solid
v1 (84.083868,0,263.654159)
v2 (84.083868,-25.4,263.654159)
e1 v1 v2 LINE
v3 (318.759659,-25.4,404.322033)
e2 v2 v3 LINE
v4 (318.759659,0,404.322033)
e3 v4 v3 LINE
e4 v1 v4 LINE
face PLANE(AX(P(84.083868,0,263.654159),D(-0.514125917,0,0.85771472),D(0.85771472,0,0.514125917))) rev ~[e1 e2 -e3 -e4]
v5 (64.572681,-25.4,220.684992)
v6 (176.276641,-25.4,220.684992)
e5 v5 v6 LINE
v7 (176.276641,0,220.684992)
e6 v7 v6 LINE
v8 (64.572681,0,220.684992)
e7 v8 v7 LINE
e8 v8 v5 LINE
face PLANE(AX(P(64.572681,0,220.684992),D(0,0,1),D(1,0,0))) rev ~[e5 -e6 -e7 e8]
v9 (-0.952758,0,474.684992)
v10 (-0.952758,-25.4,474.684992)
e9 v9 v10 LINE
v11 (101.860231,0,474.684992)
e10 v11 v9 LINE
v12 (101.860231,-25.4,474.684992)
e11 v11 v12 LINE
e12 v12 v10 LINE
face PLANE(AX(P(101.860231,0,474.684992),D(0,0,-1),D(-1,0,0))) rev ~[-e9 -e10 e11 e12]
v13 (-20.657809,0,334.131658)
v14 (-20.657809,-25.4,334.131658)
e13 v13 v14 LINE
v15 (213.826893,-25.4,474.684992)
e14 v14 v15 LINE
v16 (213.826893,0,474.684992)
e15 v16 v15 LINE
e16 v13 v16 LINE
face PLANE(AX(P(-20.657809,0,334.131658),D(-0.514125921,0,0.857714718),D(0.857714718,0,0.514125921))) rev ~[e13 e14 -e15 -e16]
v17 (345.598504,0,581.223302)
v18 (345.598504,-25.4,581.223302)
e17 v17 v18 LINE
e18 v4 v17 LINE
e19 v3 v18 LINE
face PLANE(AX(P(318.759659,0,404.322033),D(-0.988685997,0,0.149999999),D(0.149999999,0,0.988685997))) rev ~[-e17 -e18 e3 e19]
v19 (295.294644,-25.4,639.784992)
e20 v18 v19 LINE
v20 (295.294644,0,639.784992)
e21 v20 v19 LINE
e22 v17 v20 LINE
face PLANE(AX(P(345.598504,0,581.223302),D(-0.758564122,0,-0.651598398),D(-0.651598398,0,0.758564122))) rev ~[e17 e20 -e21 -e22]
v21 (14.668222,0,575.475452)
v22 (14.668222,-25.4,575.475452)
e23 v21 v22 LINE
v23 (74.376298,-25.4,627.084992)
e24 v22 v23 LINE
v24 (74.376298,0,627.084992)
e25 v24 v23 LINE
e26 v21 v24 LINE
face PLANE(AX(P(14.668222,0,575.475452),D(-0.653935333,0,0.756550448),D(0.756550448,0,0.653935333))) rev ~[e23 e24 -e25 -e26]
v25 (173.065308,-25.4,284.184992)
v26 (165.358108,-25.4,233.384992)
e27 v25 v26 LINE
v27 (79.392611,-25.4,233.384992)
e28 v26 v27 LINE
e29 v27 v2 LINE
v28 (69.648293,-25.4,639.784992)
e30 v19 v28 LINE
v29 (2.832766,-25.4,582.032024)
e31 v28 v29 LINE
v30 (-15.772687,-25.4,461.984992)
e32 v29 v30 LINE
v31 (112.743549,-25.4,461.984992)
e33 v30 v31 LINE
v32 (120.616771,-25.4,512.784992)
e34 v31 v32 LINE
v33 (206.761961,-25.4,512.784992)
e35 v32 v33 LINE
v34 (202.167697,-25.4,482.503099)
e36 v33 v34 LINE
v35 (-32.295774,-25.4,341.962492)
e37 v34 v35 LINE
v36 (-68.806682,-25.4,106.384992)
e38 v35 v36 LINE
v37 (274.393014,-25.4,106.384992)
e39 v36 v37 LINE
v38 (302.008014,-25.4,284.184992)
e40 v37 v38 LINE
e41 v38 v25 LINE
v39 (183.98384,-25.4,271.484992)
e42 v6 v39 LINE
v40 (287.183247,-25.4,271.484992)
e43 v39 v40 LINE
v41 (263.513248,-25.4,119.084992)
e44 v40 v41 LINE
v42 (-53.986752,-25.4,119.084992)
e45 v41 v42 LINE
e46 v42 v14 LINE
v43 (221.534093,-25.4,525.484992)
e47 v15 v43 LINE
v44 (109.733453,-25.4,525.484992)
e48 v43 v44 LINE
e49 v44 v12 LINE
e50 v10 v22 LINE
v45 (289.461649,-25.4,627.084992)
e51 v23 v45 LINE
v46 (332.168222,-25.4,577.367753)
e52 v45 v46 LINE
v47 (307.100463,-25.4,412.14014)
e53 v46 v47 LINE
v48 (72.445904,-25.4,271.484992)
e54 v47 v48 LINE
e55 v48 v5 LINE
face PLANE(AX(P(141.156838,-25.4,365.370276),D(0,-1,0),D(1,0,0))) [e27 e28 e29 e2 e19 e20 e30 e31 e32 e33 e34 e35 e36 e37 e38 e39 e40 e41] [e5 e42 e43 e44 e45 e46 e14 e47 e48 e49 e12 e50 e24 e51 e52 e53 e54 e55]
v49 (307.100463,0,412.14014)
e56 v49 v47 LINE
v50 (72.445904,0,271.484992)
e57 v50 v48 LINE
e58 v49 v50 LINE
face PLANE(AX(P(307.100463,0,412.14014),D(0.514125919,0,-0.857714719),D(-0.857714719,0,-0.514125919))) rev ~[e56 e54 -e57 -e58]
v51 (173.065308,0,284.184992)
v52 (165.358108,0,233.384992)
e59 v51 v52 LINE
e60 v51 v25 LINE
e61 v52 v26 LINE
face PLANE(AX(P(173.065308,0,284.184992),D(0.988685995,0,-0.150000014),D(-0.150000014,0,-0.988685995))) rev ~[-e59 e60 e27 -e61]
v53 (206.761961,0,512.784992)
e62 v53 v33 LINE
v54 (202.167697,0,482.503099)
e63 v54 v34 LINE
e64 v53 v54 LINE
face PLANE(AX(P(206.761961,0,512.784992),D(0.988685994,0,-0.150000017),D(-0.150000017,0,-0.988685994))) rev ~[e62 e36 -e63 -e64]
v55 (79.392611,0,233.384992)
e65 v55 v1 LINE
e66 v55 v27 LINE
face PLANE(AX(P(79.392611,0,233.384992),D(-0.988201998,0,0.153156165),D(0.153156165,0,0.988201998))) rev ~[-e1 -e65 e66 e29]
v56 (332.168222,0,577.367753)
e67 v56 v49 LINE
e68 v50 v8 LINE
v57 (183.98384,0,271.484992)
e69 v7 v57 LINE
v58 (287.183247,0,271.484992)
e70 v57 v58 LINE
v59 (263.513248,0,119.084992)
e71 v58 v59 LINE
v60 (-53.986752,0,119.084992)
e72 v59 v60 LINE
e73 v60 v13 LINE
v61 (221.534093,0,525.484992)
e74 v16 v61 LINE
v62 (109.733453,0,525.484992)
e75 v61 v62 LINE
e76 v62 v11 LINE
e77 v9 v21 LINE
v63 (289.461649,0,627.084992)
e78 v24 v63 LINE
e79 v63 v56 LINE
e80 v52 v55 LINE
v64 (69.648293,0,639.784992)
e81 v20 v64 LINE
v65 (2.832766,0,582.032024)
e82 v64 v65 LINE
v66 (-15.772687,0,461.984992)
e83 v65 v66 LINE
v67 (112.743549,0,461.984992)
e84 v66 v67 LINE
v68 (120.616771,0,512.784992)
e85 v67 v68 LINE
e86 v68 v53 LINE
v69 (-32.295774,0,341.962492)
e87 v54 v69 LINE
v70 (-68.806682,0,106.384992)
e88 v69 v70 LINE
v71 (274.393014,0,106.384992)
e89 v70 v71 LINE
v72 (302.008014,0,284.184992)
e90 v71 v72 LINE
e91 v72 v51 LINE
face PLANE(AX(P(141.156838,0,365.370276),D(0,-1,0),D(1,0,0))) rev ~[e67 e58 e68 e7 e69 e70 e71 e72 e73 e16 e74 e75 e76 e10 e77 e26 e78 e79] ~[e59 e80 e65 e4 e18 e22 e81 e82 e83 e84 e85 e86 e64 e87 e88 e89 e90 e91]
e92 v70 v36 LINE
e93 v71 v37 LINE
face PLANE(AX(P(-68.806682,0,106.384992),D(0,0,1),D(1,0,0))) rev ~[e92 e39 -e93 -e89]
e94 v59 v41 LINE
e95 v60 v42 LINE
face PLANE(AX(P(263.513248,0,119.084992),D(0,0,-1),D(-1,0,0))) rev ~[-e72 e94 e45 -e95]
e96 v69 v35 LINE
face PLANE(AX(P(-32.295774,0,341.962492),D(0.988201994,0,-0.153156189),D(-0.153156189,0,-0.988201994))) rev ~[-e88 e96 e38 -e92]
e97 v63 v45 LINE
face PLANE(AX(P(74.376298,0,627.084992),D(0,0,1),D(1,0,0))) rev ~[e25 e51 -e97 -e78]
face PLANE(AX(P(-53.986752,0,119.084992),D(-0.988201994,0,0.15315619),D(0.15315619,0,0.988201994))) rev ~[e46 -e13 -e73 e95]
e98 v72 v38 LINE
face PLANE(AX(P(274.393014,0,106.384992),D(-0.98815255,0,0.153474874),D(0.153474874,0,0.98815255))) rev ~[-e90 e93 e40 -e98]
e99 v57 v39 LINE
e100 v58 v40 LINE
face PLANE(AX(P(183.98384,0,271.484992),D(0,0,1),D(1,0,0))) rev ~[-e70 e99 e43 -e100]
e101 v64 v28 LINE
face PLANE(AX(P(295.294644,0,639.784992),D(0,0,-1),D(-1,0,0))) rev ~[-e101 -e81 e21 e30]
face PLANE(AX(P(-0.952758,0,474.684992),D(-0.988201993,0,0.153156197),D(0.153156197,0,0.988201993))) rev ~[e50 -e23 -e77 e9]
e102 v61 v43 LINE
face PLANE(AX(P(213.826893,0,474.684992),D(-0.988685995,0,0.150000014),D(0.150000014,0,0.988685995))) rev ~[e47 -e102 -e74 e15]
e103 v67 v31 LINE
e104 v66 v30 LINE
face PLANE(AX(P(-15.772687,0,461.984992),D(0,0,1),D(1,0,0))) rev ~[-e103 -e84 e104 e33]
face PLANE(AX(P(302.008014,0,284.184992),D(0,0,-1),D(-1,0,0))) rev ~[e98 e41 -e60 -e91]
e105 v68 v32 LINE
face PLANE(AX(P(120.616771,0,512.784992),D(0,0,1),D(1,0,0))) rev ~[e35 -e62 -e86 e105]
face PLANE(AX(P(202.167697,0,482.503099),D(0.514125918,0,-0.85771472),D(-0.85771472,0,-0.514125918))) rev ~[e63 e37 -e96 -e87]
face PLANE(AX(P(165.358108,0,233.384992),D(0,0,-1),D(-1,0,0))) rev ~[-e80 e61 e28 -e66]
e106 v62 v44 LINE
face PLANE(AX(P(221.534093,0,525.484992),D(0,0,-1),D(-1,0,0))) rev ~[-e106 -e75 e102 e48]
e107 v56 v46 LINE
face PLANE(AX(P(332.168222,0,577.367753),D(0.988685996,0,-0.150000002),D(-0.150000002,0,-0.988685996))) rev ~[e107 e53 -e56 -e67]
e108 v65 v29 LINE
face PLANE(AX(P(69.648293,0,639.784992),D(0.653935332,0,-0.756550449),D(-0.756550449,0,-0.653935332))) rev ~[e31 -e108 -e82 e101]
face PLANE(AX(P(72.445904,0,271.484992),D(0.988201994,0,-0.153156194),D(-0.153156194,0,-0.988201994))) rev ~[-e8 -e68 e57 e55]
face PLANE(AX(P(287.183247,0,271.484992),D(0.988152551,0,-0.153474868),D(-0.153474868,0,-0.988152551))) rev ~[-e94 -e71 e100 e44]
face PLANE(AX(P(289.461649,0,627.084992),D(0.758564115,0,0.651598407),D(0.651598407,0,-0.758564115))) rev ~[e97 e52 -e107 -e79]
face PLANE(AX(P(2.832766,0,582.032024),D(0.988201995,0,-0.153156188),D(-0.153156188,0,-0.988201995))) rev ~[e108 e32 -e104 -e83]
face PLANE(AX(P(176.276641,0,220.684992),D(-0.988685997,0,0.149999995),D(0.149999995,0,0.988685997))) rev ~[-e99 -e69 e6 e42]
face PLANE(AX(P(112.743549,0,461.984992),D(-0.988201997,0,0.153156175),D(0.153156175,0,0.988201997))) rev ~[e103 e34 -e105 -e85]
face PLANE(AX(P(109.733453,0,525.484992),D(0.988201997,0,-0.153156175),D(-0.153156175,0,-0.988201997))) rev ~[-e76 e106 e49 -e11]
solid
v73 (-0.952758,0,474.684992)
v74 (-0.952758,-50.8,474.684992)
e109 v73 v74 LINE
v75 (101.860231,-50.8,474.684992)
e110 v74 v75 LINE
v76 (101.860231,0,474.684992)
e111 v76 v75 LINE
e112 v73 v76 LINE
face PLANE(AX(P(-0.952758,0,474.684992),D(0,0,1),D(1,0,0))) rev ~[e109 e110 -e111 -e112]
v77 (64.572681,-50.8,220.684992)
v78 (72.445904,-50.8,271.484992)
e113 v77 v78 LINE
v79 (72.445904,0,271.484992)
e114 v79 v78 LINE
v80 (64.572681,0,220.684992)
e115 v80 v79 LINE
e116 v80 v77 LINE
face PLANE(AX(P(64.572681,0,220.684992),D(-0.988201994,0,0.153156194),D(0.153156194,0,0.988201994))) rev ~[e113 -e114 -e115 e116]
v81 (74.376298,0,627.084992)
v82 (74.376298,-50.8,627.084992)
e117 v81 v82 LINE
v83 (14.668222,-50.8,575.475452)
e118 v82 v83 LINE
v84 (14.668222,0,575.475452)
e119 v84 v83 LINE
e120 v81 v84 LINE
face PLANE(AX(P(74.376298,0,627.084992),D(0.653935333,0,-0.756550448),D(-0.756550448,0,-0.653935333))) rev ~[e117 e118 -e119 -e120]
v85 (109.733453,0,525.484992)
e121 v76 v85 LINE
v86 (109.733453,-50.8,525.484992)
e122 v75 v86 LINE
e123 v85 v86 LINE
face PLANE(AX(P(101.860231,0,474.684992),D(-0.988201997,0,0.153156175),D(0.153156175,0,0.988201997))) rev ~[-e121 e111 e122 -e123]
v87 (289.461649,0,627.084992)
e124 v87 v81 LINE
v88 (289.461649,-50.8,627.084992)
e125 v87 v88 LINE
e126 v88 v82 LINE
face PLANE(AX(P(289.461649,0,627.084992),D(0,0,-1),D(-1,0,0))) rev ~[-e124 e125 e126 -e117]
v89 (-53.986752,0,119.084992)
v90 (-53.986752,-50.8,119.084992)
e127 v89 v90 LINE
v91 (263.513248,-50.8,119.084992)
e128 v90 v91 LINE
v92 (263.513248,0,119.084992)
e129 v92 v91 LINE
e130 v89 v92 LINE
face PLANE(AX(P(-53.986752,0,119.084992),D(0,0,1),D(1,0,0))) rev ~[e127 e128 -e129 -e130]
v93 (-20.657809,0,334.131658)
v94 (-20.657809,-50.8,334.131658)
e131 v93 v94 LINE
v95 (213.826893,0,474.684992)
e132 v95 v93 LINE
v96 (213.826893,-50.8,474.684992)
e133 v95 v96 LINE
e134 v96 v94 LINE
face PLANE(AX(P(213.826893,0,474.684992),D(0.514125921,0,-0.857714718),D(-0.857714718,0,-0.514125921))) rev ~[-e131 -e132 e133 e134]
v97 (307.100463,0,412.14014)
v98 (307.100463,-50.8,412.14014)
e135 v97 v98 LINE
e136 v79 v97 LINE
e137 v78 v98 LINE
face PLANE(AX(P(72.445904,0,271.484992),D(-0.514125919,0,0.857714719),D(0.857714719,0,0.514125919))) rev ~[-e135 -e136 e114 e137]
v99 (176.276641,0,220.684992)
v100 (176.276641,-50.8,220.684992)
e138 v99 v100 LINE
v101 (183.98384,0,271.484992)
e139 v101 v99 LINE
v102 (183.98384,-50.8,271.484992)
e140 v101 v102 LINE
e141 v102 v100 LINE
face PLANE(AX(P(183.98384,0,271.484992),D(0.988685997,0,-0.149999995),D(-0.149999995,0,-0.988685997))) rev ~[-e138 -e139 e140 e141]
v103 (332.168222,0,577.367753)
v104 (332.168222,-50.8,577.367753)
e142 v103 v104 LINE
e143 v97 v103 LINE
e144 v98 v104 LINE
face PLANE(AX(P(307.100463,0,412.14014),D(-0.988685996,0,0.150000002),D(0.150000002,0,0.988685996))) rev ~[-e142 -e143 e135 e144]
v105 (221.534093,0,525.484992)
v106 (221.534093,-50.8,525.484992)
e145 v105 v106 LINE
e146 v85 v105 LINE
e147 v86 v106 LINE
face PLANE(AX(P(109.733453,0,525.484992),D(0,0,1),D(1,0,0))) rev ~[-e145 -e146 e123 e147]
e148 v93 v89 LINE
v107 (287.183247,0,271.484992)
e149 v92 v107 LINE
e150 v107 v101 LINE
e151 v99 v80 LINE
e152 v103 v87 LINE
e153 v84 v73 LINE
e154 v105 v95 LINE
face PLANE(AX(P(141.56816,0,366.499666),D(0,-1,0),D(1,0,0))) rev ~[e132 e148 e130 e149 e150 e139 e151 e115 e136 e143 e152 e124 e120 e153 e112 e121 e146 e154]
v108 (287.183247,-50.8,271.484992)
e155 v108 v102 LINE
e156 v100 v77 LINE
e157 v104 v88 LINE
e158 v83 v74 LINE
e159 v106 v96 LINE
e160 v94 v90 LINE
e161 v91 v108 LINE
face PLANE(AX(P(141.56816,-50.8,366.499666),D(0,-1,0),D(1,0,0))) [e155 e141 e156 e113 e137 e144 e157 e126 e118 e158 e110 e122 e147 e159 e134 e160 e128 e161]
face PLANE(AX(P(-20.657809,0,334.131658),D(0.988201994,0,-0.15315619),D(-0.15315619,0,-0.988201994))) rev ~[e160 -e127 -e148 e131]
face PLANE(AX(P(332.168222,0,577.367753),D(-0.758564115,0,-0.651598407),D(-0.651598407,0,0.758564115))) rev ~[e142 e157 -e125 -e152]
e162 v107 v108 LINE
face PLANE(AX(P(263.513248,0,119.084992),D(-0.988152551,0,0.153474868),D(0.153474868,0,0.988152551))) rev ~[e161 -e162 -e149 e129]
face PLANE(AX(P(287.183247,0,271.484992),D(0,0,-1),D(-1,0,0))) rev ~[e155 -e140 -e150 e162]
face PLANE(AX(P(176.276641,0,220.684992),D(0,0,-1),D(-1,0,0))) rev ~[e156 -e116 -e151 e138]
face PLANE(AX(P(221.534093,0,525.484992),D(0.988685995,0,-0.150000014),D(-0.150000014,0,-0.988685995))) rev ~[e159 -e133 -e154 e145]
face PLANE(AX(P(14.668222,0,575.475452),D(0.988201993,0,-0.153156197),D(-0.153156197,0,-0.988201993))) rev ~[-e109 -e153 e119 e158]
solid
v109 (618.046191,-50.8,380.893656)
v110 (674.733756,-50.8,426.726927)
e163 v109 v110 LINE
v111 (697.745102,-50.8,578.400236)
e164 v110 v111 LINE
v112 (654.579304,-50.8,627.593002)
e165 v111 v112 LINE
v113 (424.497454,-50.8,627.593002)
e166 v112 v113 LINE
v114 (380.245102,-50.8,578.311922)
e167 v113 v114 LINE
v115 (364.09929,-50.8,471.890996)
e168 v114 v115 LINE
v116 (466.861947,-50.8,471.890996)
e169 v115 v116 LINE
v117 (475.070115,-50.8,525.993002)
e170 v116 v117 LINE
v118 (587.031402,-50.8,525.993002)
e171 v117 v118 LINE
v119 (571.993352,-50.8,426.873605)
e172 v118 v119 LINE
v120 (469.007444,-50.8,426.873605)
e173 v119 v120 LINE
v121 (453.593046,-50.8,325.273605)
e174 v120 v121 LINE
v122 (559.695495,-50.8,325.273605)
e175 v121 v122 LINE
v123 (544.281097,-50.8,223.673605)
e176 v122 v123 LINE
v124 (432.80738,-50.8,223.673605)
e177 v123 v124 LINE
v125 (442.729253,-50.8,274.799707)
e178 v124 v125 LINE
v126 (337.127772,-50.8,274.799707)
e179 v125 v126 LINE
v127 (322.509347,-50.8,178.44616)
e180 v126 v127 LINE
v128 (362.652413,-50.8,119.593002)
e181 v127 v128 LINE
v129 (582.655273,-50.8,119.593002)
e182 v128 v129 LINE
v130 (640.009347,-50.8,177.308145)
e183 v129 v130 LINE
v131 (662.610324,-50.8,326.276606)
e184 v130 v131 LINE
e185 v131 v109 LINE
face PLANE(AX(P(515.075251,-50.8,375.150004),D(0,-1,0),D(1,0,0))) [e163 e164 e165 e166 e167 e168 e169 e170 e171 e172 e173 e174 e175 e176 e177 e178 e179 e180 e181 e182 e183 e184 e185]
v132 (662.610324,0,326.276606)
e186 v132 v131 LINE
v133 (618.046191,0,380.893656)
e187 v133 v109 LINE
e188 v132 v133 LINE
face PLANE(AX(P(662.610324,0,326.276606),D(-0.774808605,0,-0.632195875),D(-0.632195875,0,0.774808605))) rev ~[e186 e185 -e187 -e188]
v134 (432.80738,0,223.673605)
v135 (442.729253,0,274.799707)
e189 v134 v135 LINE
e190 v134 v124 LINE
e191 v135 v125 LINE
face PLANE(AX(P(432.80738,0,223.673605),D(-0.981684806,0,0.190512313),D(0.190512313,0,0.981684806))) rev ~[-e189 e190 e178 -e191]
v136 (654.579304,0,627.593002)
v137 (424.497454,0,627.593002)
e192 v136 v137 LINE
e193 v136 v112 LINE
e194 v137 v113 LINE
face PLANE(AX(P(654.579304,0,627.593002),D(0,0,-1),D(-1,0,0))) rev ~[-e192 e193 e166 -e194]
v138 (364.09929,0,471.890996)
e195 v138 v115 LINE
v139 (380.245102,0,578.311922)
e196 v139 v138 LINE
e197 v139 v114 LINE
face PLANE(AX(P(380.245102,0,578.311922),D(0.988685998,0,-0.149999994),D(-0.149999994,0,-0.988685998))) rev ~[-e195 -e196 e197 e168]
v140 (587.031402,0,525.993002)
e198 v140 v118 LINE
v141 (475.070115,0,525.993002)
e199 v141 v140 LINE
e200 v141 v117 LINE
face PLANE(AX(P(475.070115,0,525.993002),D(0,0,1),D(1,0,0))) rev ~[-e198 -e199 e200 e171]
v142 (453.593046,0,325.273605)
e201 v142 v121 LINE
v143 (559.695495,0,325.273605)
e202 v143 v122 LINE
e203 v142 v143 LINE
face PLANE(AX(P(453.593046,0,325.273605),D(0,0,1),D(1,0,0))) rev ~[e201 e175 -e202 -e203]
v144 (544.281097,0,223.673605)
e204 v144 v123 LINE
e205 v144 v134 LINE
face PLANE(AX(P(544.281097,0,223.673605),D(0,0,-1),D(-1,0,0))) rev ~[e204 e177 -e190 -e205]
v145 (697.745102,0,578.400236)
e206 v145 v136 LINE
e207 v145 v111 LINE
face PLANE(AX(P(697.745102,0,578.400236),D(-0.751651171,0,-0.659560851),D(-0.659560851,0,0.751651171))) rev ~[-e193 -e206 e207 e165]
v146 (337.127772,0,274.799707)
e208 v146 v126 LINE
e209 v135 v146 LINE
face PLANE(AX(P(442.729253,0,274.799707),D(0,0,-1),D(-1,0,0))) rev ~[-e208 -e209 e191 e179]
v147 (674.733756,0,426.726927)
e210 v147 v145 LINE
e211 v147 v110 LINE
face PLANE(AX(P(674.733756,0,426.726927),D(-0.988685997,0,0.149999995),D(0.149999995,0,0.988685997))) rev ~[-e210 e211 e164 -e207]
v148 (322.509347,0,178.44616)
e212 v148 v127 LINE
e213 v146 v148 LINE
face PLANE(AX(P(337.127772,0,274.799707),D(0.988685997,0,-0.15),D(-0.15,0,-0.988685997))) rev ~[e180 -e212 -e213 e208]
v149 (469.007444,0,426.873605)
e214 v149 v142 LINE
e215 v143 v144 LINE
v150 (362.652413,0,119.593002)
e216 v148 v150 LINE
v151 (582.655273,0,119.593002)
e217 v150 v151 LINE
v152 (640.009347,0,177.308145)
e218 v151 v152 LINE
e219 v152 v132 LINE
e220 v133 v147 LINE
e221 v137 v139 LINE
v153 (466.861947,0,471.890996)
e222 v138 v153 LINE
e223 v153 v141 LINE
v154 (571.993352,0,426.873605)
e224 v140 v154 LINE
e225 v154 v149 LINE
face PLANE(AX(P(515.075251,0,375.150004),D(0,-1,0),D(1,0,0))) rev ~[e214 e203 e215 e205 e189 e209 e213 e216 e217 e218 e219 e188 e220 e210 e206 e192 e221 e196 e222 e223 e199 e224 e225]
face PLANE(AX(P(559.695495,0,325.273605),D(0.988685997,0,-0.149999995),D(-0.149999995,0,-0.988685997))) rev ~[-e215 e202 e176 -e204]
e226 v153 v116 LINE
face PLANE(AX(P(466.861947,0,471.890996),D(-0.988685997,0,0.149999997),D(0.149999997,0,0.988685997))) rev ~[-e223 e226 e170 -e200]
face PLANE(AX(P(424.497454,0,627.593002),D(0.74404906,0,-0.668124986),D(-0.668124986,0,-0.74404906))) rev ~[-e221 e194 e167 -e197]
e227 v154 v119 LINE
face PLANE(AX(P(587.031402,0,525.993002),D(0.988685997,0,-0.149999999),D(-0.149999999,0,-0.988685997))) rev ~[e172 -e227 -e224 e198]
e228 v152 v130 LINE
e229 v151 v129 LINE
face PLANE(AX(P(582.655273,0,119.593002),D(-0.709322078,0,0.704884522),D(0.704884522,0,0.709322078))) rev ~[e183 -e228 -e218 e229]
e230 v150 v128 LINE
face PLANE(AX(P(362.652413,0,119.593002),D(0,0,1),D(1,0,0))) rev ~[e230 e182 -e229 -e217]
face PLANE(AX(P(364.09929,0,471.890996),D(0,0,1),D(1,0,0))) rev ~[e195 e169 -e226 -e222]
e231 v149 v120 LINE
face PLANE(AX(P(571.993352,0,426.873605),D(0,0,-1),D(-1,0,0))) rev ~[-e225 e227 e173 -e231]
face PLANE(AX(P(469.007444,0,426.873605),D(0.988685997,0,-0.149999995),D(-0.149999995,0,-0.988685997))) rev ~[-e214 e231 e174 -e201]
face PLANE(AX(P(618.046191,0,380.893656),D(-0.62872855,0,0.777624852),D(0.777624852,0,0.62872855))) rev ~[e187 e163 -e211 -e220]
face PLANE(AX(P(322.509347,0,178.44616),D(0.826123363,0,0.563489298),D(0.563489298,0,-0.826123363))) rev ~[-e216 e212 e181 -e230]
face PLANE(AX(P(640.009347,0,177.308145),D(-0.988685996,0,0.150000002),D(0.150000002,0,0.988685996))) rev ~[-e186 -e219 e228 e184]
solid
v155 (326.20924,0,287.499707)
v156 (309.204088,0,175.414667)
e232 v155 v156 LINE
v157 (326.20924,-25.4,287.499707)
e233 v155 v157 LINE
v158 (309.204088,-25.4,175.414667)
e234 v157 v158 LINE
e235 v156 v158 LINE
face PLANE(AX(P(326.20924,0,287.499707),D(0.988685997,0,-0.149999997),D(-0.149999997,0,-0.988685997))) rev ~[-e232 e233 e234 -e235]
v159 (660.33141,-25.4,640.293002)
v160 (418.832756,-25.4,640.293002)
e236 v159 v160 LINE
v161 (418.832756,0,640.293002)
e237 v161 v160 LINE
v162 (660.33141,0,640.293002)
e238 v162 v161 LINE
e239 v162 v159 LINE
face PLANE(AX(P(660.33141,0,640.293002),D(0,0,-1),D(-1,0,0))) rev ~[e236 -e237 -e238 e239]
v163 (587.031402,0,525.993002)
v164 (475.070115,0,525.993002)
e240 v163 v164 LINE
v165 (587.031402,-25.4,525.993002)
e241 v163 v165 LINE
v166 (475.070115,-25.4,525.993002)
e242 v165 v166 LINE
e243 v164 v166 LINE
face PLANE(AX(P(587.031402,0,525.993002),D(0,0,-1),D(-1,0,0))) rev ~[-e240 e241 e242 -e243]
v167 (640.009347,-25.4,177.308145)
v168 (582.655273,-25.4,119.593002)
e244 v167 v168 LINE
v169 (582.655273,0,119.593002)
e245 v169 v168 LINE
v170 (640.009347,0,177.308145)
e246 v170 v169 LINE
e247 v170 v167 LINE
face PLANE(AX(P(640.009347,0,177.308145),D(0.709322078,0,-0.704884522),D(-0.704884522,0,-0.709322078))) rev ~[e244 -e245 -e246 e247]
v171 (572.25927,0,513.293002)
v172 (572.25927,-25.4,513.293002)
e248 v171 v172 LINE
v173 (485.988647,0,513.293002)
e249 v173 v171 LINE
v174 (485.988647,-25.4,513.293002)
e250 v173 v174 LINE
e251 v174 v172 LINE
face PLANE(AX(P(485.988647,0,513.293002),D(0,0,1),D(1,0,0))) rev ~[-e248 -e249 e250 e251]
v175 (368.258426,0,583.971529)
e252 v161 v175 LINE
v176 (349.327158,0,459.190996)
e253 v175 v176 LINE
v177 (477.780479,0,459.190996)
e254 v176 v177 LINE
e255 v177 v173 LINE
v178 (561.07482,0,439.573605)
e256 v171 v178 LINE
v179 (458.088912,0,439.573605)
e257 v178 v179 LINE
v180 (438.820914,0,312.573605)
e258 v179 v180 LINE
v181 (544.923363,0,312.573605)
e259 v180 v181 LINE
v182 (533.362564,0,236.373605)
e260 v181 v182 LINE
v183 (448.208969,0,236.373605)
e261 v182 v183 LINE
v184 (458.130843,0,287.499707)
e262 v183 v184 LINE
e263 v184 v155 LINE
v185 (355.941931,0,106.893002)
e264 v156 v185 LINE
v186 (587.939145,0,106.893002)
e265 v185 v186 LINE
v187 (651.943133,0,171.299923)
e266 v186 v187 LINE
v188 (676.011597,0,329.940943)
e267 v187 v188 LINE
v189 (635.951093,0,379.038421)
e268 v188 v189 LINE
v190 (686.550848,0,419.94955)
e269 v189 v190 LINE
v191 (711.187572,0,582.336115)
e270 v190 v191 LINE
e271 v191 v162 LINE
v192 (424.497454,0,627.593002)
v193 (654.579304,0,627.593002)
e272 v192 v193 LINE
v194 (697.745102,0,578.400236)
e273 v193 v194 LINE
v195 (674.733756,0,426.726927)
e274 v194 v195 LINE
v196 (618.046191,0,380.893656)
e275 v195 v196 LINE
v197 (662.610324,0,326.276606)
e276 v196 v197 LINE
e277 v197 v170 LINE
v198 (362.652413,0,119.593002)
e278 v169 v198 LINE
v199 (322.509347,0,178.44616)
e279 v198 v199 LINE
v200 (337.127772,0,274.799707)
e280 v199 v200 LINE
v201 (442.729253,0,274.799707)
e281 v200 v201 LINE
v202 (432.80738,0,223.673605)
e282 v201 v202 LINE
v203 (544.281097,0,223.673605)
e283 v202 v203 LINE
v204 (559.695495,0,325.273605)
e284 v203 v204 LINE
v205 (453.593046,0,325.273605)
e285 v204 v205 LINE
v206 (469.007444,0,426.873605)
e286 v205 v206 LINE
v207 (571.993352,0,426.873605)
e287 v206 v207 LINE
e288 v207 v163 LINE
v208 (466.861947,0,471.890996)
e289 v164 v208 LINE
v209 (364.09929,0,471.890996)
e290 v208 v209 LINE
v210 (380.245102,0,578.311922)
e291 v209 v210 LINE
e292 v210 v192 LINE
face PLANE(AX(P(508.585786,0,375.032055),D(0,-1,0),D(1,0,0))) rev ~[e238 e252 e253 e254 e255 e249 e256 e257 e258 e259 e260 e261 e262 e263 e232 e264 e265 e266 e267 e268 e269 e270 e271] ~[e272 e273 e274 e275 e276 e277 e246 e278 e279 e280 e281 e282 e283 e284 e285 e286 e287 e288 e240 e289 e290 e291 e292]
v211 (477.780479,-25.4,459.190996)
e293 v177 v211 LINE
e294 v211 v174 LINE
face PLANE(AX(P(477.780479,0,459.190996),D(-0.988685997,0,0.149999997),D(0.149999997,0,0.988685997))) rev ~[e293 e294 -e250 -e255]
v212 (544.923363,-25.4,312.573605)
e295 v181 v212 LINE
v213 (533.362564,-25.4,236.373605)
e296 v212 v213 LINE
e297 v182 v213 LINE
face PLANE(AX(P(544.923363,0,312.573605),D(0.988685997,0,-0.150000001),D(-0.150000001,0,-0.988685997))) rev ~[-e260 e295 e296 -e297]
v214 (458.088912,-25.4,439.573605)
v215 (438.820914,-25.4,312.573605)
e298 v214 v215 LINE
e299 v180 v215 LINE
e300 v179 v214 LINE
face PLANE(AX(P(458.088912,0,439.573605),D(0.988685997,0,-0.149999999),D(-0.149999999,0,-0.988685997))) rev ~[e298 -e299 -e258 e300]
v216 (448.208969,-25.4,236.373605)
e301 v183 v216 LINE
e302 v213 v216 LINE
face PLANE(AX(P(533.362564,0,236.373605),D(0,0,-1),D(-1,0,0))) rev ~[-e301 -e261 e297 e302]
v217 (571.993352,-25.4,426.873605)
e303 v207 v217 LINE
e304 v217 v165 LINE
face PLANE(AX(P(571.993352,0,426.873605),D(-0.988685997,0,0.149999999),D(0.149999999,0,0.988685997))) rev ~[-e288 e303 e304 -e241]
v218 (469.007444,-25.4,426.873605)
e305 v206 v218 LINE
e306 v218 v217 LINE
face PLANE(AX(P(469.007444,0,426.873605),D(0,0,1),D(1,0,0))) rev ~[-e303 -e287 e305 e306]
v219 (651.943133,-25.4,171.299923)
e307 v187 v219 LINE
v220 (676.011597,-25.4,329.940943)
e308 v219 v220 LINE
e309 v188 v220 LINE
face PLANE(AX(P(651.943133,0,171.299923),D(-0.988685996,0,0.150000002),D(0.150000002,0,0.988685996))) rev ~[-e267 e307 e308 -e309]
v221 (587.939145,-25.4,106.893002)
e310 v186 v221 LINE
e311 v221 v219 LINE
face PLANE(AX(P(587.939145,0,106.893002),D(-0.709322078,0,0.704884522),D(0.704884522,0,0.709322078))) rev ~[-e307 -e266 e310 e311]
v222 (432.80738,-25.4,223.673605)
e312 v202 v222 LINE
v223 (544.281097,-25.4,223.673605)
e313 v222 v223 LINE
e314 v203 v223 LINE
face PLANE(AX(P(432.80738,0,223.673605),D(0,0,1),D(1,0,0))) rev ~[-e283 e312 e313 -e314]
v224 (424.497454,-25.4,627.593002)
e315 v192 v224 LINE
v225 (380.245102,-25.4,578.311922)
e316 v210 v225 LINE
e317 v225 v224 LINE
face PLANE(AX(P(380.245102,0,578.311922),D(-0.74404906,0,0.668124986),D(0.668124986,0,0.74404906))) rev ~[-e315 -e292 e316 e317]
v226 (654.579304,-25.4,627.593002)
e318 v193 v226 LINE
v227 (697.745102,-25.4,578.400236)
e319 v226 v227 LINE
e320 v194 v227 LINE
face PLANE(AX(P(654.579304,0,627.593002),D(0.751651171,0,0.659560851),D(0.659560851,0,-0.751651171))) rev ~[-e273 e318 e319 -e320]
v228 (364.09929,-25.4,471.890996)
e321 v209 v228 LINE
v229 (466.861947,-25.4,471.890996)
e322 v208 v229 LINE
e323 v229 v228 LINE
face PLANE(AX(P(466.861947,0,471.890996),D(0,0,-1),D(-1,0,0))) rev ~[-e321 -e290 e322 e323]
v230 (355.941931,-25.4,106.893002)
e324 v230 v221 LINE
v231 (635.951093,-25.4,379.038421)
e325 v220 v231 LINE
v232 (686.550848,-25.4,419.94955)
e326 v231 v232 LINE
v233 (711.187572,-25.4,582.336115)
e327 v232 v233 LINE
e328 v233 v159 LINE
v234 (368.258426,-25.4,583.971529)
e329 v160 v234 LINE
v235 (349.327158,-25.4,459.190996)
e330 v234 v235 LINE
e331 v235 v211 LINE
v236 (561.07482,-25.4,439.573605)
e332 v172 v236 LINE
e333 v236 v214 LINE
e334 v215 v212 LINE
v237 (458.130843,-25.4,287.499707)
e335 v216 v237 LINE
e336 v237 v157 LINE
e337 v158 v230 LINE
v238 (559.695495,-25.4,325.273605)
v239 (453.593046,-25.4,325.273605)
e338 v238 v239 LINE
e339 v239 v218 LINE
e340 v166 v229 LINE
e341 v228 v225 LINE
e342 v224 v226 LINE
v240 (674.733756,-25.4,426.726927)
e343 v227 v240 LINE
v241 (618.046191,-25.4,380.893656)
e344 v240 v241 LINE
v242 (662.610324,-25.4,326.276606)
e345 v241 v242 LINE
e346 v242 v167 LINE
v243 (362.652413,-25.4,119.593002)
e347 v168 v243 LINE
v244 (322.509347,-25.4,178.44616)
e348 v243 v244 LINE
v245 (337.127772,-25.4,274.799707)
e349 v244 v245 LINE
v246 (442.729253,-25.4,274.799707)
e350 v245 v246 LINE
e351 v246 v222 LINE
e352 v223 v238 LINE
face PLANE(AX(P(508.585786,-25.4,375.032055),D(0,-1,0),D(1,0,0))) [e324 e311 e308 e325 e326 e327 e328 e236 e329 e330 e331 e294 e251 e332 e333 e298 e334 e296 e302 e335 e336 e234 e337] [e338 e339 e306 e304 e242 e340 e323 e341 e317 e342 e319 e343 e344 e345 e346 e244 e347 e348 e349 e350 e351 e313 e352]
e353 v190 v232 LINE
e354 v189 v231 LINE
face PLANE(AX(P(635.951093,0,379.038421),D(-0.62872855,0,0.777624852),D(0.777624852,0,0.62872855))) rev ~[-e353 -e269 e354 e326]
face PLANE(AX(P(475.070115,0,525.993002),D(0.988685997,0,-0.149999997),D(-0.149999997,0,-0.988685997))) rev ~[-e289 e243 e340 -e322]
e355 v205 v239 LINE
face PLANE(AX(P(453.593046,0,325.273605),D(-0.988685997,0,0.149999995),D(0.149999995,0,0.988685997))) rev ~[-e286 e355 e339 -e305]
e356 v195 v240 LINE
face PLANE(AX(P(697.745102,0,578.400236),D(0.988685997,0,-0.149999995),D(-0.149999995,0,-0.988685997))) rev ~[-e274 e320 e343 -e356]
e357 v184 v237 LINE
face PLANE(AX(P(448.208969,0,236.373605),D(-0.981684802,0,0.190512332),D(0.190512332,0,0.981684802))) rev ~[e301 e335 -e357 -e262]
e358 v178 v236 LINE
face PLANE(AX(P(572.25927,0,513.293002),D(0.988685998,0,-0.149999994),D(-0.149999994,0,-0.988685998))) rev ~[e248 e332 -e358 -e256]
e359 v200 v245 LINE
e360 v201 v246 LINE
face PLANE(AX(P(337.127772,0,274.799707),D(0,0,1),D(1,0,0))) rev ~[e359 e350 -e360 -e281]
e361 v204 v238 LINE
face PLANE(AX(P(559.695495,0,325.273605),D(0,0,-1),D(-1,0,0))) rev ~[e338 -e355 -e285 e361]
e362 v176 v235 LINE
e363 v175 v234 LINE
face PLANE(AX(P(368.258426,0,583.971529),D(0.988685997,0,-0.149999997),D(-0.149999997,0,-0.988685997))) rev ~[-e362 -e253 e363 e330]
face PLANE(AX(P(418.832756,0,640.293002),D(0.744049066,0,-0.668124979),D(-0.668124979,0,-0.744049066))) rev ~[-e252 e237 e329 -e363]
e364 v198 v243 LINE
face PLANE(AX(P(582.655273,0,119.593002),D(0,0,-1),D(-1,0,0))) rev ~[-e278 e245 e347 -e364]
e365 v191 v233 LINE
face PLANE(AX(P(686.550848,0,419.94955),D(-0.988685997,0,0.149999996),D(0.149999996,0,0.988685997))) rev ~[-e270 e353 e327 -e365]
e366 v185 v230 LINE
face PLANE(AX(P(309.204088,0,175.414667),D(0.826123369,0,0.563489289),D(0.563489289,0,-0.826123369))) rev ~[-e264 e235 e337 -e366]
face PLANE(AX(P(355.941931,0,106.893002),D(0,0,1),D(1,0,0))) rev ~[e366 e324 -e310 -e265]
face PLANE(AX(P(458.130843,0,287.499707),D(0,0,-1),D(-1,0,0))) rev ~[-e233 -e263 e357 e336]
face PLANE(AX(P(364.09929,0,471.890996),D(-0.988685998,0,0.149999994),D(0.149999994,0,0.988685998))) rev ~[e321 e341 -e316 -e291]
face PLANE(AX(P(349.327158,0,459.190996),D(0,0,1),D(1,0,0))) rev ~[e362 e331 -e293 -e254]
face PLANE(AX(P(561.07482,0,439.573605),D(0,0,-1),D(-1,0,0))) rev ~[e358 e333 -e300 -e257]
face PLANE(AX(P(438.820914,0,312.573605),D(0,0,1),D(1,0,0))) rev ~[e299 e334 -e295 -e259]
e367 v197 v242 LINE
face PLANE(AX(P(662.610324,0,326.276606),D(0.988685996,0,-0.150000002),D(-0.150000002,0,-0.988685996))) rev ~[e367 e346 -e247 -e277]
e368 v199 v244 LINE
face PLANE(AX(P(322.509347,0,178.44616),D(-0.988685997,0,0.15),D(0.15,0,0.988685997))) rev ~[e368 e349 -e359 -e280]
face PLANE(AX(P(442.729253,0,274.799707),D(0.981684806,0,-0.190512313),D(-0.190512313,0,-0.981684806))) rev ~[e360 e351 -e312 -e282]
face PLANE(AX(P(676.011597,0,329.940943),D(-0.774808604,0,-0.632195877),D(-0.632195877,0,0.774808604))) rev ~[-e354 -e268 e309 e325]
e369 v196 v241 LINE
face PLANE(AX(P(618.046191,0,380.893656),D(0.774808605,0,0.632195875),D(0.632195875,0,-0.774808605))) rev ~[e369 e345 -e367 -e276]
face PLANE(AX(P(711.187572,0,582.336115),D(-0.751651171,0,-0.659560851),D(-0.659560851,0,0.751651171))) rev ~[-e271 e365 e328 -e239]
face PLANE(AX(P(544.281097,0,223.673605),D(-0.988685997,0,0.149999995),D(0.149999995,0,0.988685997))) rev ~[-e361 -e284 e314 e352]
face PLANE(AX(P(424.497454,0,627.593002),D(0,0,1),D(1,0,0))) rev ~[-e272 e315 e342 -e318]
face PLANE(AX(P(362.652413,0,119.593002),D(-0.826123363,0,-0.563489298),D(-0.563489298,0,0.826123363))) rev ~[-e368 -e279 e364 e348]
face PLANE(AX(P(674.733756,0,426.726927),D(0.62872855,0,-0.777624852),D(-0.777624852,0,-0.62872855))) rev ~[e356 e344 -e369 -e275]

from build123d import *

# Parameters (mm, degrees)
F1_DEPTH = 25.4
F2_DEPTH = 50.8


with BuildPart() as f1:
    # F0 (on Front) → F1 (new body)
    with BuildSketch(Plane.XZ):
        Polygon((112.743549, 461.984992), (120.616771, 512.784992), (206.761961, 512.784992), (202.167697, 482.503099), (-32.295774, 341.962492), (-68.806682, 106.384992), (274.393014, 106.384992), (302.008014, 284.184992), (173.065308, 284.184992), (165.358108, 233.384992), (79.392611, 233.384992), (84.083868, 263.654159), (318.759659, 404.322033), (345.598504, 581.223302), (295.294644, 639.784992), (69.648293, 639.784992), (2.832766, 582.032024), (-15.772687, 461.984992), align=None)
        Polygon((263.513248, 119.084992), (-53.986752, 119.084992), (-20.657809, 334.131658), (213.826893, 474.684992), (221.534093, 525.484992), (109.733453, 525.484992), (101.860231, 474.684992), (-0.952758, 474.684992), (14.668222, 575.475452), (74.376298, 627.084992), (289.461649, 627.084992), (332.168222, 577.367753), (307.100463, 412.14014), (72.445904, 271.484992), (64.572681, 220.684992), (176.276641, 220.684992), (183.98384, 271.484992), (287.183247, 271.484992), align=None, mode=Mode.SUBTRACT)
        Polygon((326.20924, 287.499707), (309.204088, 175.414667), (355.941931, 106.893002), (587.939145, 106.893002), (651.943133, 171.299923), (676.011597, 329.940943), (635.951093, 379.038421), (686.550848, 419.94955), (711.187572, 582.336115), (660.33141, 640.293002), (418.832756, 640.293002), (368.258426, 583.971529), (349.327158, 459.190996), (477.780479, 459.190996), (485.988647, 513.293002), (572.25927, 513.293002), (561.07482, 439.573605), (458.088912, 439.573605), (438.820914, 312.573605), (544.923363, 312.573605), (533.362564, 236.373605), (448.208969, 236.373605), (458.130843, 287.499707), align=None)
        Polygon((364.09929, 471.890996), (380.245102, 578.311922), (424.497454, 627.593002), (654.579304, 627.593002), (697.745102, 578.400236), (674.733756, 426.726927), (618.046191, 380.893656), (662.610324, 326.276606), (640.009347, 177.308145), (582.655273, 119.593002), (362.652413, 119.593002), (322.509347, 178.44616), (337.127772, 274.799707), (442.729253, 274.799707), (432.80738, 223.673605), (544.281097, 223.673605), (559.695495, 325.273605), (453.593046, 325.273605), (469.007444, 426.873605), (571.993352, 426.873605), (587.031402, 525.993002), (475.070115, 525.993002), (466.861947, 471.890996), align=None, mode=Mode.SUBTRACT)
    extrude(amount=F1_DEPTH)


with BuildPart() as f2:
    # F0 (on Front) → F2 (new body)
    with BuildSketch(Plane.XZ):
        Polygon((424.497454, 627.593002), (380.245102, 578.311922), (364.09929, 471.890996), (466.861947, 471.890996), (475.070115, 525.993002), (587.031402, 525.993002), (571.993352, 426.873605), (469.007444, 426.873605), (453.593046, 325.273605), (559.695495, 325.273605), (544.281097, 223.673605), (432.80738, 223.673605), (442.729253, 274.799707), (337.127772, 274.799707), (322.509347, 178.44616), (362.652413, 119.593002), (582.655273, 119.593002), (640.009347, 177.308145), (662.610324, 326.276606), (618.046191, 380.893656), (674.733756, 426.726927), (697.745102, 578.400236), (654.579304, 627.593002), align=None)
        Polygon((-20.657809, 334.131658), (-53.986752, 119.084992), (263.513248, 119.084992), (287.183247, 271.484992), (183.98384, 271.484992), (176.276641, 220.684992), (64.572681, 220.684992), (72.445904, 271.484992), (307.100463, 412.14014), (332.168222, 577.367753), (289.461649, 627.084992), (74.376298, 627.084992), (14.668222, 575.475452), (-0.952758, 474.684992), (101.860231, 474.684992), (109.733453, 525.484992), (221.534093, 525.484992), (213.826893, 474.684992), align=None)
    extrude(amount=F2_DEPTH)


solid = Compound([f1.part, f2.part])
